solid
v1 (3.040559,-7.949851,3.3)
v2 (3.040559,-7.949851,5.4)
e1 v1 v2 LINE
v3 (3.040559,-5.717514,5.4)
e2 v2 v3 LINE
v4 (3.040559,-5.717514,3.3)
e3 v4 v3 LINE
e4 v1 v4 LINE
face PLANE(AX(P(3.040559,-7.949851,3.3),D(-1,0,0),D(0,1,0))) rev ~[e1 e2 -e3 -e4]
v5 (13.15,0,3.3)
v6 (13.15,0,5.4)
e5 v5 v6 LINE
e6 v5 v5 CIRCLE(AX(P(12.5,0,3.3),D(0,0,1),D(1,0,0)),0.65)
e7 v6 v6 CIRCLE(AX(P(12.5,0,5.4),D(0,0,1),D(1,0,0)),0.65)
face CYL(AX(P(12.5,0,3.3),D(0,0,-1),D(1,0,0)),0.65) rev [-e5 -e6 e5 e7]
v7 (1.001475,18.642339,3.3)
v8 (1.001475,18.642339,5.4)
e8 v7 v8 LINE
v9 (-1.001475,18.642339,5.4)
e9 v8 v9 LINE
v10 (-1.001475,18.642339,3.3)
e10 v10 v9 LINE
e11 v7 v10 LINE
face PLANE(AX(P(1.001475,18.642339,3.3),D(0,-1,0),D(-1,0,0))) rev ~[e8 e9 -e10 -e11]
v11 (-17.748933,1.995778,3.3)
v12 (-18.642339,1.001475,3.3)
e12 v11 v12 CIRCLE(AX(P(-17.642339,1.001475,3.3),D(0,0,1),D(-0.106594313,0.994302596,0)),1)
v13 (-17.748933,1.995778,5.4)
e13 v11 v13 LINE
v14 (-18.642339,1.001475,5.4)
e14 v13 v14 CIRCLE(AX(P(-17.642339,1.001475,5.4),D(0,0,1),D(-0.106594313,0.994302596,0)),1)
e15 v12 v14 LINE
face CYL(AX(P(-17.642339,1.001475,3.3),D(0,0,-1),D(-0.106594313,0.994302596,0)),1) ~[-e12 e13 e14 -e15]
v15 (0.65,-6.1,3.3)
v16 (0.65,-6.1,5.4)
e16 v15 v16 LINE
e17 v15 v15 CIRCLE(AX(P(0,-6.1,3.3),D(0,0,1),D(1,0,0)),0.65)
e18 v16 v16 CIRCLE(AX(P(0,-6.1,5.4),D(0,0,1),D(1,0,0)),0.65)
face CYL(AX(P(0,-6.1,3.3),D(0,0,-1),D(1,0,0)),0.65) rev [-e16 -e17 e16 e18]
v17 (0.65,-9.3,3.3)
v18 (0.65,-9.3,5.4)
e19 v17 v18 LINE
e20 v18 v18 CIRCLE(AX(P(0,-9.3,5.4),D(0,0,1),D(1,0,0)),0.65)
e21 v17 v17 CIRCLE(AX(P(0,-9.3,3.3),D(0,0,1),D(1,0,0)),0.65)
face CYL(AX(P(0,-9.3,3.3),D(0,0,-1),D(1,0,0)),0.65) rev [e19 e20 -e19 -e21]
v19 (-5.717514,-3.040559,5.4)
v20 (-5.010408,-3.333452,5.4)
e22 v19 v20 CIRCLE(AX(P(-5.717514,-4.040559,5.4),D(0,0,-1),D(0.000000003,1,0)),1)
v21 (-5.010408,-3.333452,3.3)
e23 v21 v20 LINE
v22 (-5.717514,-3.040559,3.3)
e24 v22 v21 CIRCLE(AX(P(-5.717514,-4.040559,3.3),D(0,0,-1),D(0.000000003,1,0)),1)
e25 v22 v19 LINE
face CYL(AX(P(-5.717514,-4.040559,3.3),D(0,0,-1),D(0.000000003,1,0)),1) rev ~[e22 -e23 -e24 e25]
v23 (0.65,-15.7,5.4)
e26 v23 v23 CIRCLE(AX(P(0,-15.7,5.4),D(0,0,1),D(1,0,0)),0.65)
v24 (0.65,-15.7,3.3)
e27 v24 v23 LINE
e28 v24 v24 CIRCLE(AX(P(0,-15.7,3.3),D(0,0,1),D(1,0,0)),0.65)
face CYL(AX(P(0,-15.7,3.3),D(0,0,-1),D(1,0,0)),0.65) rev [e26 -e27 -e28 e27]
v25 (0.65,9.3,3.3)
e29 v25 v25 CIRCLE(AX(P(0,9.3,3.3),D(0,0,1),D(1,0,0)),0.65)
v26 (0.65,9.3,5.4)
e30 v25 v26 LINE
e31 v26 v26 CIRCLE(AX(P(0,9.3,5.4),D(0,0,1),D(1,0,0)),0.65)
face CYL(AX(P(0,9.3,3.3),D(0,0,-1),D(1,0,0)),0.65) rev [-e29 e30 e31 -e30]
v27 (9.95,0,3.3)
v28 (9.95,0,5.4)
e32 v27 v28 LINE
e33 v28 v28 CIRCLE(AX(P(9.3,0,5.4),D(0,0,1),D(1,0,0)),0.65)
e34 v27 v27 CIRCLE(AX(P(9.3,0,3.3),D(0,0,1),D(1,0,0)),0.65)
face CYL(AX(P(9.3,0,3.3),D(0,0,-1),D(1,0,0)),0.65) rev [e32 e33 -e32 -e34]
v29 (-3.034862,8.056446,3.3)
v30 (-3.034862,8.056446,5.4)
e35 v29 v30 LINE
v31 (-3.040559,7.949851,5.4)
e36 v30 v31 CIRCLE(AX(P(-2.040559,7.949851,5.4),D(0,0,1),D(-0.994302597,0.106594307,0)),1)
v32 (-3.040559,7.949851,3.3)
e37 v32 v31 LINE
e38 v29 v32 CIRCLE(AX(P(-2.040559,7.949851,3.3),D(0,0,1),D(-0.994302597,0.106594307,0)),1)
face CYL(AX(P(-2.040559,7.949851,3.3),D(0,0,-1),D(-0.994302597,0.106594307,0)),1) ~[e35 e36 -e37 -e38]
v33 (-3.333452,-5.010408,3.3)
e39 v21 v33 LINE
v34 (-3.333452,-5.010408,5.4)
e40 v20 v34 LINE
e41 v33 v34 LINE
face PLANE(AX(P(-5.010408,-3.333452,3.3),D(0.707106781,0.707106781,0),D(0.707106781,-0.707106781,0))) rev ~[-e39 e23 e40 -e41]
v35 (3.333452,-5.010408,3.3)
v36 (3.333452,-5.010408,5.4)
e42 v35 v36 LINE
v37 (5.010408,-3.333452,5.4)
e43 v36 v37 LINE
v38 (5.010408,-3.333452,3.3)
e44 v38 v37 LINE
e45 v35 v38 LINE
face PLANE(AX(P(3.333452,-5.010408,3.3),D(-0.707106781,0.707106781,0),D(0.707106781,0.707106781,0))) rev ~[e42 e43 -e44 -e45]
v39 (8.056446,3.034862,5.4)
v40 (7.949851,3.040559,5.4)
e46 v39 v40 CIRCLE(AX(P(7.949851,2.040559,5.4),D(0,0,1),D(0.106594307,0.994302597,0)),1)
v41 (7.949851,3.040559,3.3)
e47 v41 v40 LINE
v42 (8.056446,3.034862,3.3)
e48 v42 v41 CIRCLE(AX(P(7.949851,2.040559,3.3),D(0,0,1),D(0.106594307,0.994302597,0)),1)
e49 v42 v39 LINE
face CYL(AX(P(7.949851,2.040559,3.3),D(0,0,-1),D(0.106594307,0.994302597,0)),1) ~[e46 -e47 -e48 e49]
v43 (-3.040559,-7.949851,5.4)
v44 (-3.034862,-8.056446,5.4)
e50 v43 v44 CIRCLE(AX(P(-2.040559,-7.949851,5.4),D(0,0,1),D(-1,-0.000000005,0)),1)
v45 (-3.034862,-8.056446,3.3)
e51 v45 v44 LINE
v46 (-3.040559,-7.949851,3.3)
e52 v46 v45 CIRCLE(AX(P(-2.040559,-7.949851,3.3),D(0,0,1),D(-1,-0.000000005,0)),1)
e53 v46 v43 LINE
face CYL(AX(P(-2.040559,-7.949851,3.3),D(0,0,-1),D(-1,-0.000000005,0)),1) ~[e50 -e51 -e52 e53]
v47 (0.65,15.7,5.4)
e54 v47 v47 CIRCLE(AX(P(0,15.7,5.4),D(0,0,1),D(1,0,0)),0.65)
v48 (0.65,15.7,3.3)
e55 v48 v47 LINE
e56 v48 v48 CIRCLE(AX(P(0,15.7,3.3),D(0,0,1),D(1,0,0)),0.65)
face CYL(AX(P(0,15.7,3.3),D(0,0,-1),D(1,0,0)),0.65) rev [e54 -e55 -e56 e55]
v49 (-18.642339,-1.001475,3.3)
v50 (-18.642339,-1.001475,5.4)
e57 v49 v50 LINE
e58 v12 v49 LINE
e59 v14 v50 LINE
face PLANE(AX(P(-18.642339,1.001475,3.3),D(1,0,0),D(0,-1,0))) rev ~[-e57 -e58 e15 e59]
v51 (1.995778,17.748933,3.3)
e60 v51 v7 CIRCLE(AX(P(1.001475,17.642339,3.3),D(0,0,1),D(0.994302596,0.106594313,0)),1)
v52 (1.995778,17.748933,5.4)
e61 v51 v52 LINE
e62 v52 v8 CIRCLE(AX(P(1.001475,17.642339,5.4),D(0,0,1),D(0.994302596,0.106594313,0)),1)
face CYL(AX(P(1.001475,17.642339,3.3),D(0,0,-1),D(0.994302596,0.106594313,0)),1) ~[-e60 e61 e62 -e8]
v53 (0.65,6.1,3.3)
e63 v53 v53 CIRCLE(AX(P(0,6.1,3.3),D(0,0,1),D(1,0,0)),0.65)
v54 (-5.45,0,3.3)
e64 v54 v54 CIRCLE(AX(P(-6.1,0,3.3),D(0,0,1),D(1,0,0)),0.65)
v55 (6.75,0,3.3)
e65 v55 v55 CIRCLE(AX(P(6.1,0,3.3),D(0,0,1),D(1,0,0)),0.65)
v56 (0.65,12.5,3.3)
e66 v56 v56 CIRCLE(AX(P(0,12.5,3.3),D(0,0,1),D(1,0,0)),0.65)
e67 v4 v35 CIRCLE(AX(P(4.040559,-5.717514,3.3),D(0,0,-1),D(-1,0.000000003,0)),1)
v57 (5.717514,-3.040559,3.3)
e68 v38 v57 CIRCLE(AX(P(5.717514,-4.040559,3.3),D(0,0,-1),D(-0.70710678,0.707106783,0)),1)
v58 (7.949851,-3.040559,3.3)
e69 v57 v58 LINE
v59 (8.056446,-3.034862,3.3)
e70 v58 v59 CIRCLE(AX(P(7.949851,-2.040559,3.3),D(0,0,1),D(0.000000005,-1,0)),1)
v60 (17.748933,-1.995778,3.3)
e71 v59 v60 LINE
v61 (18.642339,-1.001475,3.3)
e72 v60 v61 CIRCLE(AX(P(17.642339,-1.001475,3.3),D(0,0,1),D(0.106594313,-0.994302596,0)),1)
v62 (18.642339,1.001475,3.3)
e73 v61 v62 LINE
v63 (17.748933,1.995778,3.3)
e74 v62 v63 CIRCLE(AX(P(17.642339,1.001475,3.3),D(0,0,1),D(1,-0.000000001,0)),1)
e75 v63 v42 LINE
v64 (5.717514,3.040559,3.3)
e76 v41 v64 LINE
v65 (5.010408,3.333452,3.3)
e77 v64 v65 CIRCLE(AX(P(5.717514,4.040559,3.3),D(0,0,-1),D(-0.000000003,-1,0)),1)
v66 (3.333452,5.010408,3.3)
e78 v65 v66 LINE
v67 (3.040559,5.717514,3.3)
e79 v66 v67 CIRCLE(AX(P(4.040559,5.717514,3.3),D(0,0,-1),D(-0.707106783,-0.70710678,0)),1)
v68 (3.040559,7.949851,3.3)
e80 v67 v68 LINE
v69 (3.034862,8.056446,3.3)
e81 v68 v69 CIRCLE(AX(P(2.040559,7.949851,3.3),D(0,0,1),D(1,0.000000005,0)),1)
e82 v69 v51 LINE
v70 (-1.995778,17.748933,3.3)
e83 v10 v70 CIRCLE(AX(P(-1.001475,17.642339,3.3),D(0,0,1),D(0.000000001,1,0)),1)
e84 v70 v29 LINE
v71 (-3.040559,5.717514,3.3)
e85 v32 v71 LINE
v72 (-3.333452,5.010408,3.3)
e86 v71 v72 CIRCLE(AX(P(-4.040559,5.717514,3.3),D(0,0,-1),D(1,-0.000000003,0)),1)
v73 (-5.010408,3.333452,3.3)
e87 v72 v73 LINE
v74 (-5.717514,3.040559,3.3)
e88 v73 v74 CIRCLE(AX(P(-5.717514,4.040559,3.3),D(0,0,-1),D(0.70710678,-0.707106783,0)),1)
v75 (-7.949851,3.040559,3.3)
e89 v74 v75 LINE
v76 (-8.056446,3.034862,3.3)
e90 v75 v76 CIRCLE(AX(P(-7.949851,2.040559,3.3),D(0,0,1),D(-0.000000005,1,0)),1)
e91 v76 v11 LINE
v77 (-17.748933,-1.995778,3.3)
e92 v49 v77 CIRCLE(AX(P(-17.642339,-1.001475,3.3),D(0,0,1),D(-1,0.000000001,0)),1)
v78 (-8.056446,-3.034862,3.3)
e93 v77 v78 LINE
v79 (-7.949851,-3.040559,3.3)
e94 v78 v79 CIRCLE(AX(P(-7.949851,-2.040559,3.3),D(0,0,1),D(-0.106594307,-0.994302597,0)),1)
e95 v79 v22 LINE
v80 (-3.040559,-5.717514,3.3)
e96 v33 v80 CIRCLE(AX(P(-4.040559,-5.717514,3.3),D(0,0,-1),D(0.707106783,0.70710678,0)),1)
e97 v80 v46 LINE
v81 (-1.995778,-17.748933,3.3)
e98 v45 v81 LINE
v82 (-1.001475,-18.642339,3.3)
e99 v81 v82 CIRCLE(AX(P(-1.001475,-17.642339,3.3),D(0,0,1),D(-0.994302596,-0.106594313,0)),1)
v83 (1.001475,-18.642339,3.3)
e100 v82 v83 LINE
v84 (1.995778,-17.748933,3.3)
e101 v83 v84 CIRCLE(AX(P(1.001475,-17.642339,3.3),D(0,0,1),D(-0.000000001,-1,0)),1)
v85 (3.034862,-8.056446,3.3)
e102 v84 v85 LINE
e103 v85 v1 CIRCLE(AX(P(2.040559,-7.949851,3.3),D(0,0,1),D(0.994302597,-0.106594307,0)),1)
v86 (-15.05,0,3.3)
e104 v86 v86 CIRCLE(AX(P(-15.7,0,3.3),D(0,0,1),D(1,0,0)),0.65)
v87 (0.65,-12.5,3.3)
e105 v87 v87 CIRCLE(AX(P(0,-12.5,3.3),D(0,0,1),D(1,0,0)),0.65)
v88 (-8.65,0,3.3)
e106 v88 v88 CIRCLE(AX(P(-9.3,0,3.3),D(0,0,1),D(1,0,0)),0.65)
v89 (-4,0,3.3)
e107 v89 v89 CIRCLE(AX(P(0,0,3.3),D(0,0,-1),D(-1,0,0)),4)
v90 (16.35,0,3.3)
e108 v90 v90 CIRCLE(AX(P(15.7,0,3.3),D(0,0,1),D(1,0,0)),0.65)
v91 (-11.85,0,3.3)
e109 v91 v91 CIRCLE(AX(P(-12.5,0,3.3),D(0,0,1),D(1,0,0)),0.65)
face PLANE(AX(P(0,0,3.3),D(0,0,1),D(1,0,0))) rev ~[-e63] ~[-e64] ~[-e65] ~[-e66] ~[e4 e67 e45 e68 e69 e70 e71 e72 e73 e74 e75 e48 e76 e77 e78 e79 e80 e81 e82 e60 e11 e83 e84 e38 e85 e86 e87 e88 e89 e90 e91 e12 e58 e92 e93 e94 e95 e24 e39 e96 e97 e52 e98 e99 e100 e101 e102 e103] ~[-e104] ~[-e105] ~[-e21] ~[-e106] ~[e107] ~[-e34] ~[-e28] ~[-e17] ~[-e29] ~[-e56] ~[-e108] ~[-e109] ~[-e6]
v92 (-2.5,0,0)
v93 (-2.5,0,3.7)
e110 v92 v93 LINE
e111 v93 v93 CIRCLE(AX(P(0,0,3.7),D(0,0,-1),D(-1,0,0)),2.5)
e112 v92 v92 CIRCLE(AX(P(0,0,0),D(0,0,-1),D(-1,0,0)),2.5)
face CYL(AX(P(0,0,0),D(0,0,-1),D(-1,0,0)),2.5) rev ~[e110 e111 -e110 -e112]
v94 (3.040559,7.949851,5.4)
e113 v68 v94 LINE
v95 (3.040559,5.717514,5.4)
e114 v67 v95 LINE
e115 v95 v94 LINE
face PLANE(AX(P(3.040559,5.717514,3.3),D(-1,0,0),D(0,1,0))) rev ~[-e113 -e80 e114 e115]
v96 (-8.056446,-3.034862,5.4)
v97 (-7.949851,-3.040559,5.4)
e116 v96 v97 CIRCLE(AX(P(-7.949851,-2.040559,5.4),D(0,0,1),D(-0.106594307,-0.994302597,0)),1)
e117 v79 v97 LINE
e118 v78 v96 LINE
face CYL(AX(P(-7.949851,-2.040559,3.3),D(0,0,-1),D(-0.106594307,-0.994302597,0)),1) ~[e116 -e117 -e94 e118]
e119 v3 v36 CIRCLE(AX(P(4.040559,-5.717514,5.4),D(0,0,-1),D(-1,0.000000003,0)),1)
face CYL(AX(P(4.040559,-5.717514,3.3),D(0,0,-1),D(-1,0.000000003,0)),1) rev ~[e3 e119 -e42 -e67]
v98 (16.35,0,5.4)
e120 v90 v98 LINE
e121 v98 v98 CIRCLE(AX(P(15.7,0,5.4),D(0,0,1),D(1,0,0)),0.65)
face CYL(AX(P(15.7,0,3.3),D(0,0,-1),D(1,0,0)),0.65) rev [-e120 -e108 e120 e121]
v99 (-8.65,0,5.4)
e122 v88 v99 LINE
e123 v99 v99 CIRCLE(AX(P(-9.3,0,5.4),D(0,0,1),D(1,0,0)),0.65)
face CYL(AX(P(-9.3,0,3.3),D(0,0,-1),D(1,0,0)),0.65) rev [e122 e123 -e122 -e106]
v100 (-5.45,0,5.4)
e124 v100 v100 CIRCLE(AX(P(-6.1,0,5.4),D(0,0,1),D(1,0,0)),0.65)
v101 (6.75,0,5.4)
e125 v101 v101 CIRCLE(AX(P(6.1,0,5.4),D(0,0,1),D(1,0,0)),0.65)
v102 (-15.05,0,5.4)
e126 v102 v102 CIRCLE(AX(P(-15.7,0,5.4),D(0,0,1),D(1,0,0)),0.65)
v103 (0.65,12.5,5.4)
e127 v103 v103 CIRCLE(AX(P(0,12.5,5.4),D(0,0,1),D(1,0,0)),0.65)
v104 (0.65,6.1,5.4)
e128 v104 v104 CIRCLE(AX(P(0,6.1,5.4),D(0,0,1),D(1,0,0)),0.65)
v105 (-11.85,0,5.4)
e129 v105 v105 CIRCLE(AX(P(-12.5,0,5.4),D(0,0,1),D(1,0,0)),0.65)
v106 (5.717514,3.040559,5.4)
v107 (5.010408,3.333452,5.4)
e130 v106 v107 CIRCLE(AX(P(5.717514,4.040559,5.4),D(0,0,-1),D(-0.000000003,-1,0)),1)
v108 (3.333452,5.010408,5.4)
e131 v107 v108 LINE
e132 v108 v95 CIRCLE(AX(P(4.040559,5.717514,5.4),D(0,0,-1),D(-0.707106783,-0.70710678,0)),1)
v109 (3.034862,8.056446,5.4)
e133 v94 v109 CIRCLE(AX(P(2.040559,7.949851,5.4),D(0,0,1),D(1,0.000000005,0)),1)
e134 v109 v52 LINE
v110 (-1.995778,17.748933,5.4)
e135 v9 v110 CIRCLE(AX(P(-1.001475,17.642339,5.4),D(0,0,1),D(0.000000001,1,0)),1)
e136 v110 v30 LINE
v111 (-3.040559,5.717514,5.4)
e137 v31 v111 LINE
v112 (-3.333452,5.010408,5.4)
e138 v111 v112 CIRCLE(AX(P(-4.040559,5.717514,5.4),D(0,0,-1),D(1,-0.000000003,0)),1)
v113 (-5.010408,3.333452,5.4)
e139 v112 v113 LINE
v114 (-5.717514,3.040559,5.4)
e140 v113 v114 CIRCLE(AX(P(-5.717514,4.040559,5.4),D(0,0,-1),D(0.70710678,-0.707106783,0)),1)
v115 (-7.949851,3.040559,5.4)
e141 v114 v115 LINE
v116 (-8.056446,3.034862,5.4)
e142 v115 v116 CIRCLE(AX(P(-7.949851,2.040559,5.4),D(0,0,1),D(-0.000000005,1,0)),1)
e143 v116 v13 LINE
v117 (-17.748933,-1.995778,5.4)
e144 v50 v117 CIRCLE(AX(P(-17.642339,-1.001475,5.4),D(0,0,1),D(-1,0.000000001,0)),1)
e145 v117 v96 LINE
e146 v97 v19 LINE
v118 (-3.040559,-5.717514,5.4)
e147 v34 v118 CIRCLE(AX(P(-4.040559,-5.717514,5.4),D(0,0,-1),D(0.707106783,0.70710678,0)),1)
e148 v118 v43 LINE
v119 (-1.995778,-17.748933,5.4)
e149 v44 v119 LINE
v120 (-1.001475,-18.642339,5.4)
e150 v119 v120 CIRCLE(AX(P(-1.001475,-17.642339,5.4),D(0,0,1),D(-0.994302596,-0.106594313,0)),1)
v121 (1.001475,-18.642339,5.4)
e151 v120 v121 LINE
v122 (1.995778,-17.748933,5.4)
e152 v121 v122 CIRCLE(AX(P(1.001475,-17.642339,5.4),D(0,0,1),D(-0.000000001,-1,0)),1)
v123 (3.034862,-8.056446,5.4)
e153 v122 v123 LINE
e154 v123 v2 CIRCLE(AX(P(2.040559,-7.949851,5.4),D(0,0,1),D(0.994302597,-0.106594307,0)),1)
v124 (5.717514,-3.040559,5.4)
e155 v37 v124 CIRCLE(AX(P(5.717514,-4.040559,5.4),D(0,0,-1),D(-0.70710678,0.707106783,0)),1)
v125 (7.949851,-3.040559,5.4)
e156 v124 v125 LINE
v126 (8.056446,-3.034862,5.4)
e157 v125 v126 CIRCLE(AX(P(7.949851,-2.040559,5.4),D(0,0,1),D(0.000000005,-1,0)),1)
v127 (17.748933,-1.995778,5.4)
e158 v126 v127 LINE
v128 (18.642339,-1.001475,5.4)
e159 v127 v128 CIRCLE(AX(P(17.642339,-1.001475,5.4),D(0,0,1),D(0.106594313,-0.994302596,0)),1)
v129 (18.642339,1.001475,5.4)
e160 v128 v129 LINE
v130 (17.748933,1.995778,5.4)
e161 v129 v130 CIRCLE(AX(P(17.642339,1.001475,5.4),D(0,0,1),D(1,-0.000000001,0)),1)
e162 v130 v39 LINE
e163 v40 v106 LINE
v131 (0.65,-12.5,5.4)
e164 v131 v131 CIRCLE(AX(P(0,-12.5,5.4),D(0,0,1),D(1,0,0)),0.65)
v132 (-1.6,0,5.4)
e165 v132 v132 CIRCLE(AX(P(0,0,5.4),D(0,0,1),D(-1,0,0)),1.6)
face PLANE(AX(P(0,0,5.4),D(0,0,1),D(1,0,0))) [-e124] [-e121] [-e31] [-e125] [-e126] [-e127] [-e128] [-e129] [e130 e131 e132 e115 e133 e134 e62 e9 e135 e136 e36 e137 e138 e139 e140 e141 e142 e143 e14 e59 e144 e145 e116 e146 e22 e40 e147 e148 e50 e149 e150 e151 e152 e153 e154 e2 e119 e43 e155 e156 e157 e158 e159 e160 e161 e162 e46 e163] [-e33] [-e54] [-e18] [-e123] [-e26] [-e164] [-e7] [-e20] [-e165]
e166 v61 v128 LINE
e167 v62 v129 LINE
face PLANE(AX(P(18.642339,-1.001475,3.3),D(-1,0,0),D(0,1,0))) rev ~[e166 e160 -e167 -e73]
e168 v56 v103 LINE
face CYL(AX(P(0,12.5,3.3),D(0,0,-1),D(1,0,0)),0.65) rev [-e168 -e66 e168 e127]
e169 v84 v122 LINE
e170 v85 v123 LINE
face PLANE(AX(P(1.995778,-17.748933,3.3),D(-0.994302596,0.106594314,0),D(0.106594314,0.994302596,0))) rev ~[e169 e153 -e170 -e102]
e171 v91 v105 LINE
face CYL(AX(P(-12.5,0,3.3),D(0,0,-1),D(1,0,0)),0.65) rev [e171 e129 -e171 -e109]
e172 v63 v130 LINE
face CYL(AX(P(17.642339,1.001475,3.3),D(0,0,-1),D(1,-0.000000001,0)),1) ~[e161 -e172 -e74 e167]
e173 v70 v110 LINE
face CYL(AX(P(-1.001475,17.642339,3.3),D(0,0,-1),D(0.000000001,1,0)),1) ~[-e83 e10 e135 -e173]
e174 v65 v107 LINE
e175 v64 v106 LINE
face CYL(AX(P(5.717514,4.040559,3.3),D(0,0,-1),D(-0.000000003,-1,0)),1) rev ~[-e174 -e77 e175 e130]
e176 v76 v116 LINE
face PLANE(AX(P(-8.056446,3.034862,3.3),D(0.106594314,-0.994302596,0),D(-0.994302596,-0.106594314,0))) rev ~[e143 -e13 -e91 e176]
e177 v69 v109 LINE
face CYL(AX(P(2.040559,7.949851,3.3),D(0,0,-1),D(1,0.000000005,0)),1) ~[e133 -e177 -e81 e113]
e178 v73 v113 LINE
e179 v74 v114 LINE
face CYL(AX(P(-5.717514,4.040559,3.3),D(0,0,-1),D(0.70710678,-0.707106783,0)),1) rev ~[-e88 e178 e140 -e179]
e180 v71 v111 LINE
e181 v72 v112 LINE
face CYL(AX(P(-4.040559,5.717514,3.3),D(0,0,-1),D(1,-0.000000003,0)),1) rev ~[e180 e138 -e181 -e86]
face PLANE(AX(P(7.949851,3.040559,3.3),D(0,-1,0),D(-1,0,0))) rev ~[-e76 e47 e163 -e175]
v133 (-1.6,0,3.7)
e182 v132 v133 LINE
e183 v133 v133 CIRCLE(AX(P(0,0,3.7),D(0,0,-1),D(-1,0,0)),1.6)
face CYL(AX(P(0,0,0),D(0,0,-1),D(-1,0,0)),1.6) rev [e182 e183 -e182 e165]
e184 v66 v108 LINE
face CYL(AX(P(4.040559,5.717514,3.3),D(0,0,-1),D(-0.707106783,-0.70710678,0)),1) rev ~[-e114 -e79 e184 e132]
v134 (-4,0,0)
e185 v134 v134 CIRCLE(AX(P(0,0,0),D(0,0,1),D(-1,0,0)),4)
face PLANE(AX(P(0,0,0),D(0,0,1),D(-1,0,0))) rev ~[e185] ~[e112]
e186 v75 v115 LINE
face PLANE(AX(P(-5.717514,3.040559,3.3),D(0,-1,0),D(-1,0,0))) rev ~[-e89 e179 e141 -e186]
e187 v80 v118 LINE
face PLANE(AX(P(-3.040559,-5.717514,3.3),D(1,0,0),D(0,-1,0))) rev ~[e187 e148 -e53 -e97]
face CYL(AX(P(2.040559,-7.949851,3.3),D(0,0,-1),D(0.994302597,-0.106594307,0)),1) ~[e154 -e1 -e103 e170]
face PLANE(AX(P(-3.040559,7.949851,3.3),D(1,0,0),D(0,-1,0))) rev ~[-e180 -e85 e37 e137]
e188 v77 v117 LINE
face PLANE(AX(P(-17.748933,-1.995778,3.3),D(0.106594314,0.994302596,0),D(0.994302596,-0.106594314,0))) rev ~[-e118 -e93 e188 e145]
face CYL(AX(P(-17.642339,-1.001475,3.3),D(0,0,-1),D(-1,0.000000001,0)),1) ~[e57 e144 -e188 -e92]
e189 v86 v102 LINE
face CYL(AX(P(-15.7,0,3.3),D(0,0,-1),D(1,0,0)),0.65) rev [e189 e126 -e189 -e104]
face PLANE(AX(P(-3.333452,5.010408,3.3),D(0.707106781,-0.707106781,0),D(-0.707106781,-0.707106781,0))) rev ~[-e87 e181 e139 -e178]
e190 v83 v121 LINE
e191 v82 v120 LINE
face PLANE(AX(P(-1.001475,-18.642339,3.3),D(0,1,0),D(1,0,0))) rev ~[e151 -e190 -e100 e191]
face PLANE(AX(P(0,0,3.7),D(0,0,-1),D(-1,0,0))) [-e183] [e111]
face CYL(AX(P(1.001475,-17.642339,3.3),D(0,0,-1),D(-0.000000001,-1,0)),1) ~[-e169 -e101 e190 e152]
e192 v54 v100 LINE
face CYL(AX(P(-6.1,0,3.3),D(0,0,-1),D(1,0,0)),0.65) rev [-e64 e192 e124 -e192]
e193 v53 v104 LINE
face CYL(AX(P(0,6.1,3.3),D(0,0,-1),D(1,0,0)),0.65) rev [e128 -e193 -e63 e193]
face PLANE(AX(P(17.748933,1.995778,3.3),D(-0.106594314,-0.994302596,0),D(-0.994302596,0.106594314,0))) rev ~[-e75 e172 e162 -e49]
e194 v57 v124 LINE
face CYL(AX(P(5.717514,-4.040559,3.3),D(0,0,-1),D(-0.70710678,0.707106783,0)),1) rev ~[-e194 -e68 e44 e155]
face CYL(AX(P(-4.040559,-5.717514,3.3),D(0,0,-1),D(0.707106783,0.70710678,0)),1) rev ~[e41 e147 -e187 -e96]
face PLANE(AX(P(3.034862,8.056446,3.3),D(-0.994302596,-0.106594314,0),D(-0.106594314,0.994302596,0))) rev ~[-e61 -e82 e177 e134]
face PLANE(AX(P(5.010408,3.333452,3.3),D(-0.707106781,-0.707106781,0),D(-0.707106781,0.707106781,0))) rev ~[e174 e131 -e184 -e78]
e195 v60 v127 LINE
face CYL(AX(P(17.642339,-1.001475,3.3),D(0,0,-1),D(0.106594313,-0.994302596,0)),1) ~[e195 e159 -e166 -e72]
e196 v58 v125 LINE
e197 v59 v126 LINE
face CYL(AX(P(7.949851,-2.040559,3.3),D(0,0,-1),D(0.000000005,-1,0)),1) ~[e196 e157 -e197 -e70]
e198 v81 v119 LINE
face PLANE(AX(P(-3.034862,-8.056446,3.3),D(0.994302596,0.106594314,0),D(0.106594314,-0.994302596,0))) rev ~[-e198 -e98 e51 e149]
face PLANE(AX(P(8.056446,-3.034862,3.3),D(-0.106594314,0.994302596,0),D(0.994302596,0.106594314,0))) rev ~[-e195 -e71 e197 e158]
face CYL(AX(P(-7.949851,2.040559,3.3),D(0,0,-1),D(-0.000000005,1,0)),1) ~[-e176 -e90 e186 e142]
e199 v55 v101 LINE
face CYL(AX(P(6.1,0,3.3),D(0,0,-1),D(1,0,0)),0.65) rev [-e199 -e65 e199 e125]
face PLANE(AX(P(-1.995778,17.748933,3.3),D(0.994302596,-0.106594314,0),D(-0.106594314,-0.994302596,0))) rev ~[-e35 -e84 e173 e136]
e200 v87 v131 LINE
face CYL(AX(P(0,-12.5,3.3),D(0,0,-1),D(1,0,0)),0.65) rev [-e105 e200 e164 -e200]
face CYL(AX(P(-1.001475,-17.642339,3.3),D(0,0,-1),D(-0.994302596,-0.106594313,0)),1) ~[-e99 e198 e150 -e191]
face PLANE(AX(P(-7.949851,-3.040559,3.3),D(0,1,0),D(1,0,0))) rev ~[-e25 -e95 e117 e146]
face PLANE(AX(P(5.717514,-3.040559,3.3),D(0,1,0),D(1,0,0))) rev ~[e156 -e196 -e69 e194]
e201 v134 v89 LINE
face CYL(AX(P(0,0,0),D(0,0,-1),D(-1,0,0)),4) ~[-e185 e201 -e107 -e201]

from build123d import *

# Parameters (mm, degrees)
SKETCH1_R           = 4
SKETCH1_R_2         = 1.6
BOSS_EXTRUDE1_DEPTH = 5.4
BOSS_EXTRUDE2_START = -2.1
SKETCH2_R           = 1.6
SKETCH2_R_2         = 0.65
BOSS_EXTRUDE2_DEPTH = 2.1
SKETCH3_R           = 2.5
CUT_EXTRUDE1_DEPTH  = 3.7


with BuildPart() as part:
    # Sketch1 → Boss-Extrude1 (new body)
    with BuildSketch(Plane.XY):
        with Locations(Location((0, 0, 0), (0, 0, 180))):
            Circle(SKETCH1_R)
        with Locations(Location((0, 0, 0), (0, 0, 180))):
            Circle(SKETCH1_R_2, mode=Mode.SUBTRACT)
    extrude(amount=BOSS_EXTRUDE1_DEPTH)

    # Sketch2 → Boss-Extrude2 (add)
    with BuildSketch(Plane.XY.offset(5.4).offset(BOSS_EXTRUDE2_START)):
        with BuildLine():
            Line((4.171930009, 4.171930009), (3.333452378, 5.01040764))
            ThreePointArc((3.333452378, 5.01040764), (3.116679627, 5.334830989), (3.040559159, 5.717514421))
            Line((3.040559159, 5.717514421), (3.040559159, 7.94985144))
            ThreePointArc((3.040559159, 7.94985144), (3.039133792, 8.003224674), (3.034861755, 8.056445754))
            Line((3.034861755, 8.056445754), (1.99577765, 17.748932949))
            ThreePointArc((1.99577765, 17.748932949), (1.669833374, 18.386178105), (1.001475054, 18.642338635))
            Line((1.001475054, 18.642338635), (-1.001475054, 18.642338635))
            ThreePointArc((-1.001475054, 18.642338635), (-1.669833374, 18.386178105), (-1.99577765, 17.748932949))
            Line((-1.99577765, 17.748932949), (-3.034861755, 8.056445754))
            ThreePointArc((-3.034861755, 8.056445754), (-3.039133792, 8.003224674), (-3.040559159, 7.94985144))
            Line((-3.040559159, 7.94985144), (-3.040559159, 5.717514421))
            ThreePointArc((-3.040559159, 5.717514421), (-3.116679627, 5.334830989), (-3.333452378, 5.01040764))
            Line((-3.333452378, 5.01040764), (-4.171930009, 4.171930009))
            Line((-4.171930009, 4.171930009), (-5.01040764, 3.333452378))
            ThreePointArc((-5.01040764, 3.333452378), (-5.334830989, 3.116679627), (-5.717514421, 3.040559159))
            Line((-5.717514421, 3.040559159), (-7.94985144, 3.040559159))
            ThreePointArc((-7.94985144, 3.040559159), (-8.003224674, 3.039133792), (-8.056445754, 3.034861755))
            Line((-8.056445754, 3.034861755), (-17.748932949, 1.99577765))
            ThreePointArc((-17.748932949, 1.99577765), (-18.386178105, 1.669833374), (-18.642338635, 1.001475054))
            Line((-18.642338635, 1.001475054), (-18.642338635, -1.001475054))
            ThreePointArc((-18.642338635, -1.001475054), (-18.386178105, -1.669833374), (-17.748932949, -1.99577765))
            Line((-17.748932949, -1.99577765), (-8.056445754, -3.034861755))
            ThreePointArc((-8.056445754, -3.034861755), (-8.003224674, -3.039133792), (-7.94985144, -3.040559159))
            Line((-7.94985144, -3.040559159), (-5.717514421, -3.040559159))
            ThreePointArc((-5.717514421, -3.040559159), (-5.334830989, -3.116679627), (-5.01040764, -3.333452378))
            Line((-5.01040764, -3.333452378), (-4.171930009, -4.171930009))
            Line((-4.171930009, -4.171930009), (-3.333452378, -5.01040764))
            ThreePointArc((-3.333452378, -5.01040764), (-3.116679627, -5.334830989), (-3.040559159, -5.717514421))
            Line((-3.040559159, -5.717514421), (-3.040559159, -7.94985144))
            ThreePointArc((-3.040559159, -7.94985144), (-3.039133792, -8.003224674), (-3.034861755, -8.056445754))
            Line((-3.034861755, -8.056445754), (-1.99577765, -17.748932949))
            ThreePointArc((-1.99577765, -17.748932949), (-1.669833374, -18.386178105), (-1.001475054, -18.642338635))
            Line((-1.001475054, -18.642338635), (1.001475054, -18.642338635))
            ThreePointArc((1.001475054, -18.642338635), (1.669833374, -18.386178105), (1.99577765, -17.748932949))
            Line((1.99577765, -17.748932949), (3.034861755, -8.056445754))
            ThreePointArc((3.034861755, -8.056445754), (3.039133792, -8.003224674), (3.040559159, -7.94985144))
            Line((3.040559159, -7.94985144), (3.040559159, -5.717514421))
            ThreePointArc((3.040559159, -5.717514421), (3.116679627, -5.334830989), (3.333452378, -5.01040764))
            Line((3.333452378, -5.01040764), (4.171930009, -4.171930009))
            Line((4.171930009, -4.171930009), (5.01040764, -3.333452378))
            ThreePointArc((5.01040764, -3.333452378), (5.334830989, -3.116679627), (5.717514421, -3.040559159))
            Line((5.717514421, -3.040559159), (7.94985144, -3.040559159))
            ThreePointArc((7.94985144, -3.040559159), (8.003224674, -3.039133792), (8.056445754, -3.034861755))
            Line((8.056445754, -3.034861755), (17.748932949, -1.99577765))
            ThreePointArc((17.748932949, -1.99577765), (18.386178105, -1.669833374), (18.642338635, -1.001475054))
            Line((18.642338635, -1.001475054), (18.642338635, 1.001475054))
            ThreePointArc((18.642338635, 1.001475054), (18.386178105, 1.669833374), (17.748932949, 1.99577765))
            Line((17.748932949, 1.99577765), (8.056445754, 3.034861755))
            ThreePointArc((8.056445754, 3.034861755), (8.003224674, 3.039133792), (7.94985144, 3.040559159))
            Line((7.94985144, 3.040559159), (5.717514421, 3.040559159))
            ThreePointArc((5.717514421, 3.040559159), (5.334830989, 3.116679627), (5.01040764, 3.333452378))
            Line((5.01040764, 3.333452378), (4.171930009, 4.171930009))
        make_face()
        with Locations(Location((0, 0, 0), (0, 0, 180))):
            Circle(SKETCH2_R, mode=Mode.SUBTRACT)
        with Locations((0, 6.1)):
            Circle(SKETCH2_R_2, mode=Mode.SUBTRACT)
        with Locations((0, 9.3)):
            Circle(SKETCH2_R_2, mode=Mode.SUBTRACT)
        with Locations((0, 12.5)):
            Circle(SKETCH2_R_2, mode=Mode.SUBTRACT)
        with Locations((0, 15.7)):
            Circle(SKETCH2_R_2, mode=Mode.SUBTRACT)
        with Locations((15.7, 0)):
            Circle(SKETCH2_R_2, mode=Mode.SUBTRACT)
        with Locations((12.5, 0)):
            Circle(SKETCH2_R_2, mode=Mode.SUBTRACT)
        with Locations((9.3, 0)):
            Circle(SKETCH2_R_2, mode=Mode.SUBTRACT)
        with Locations((6.1, 0)):
            Circle(SKETCH2_R_2, mode=Mode.SUBTRACT)
        with Locations((0, -15.7)):
            Circle(SKETCH2_R_2, mode=Mode.SUBTRACT)
        with Locations((0, -12.5)):
            Circle(SKETCH2_R_2, mode=Mode.SUBTRACT)
        with Locations((0, -9.3)):
            Circle(SKETCH2_R_2, mode=Mode.SUBTRACT)
        with Locations((0, -6.1)):
            Circle(SKETCH2_R_2, mode=Mode.SUBTRACT)
        with Locations((-15.7, 0)):
            Circle(SKETCH2_R_2, mode=Mode.SUBTRACT)
        with Locations((-12.5, 0)):
            Circle(SKETCH2_R_2, mode=Mode.SUBTRACT)
        with Locations((-9.3, 0)):
            Circle(SKETCH2_R_2, mode=Mode.SUBTRACT)
        with Locations((-6.1, 0)):
            Circle(SKETCH2_R_2, mode=Mode.SUBTRACT)
    extrude(amount=BOSS_EXTRUDE2_DEPTH)

    # Sketch3 → Cut-Extrude1 (cut)
    with BuildSketch(Plane(origin=(0, 0, 0), x_dir=(-1, 0, 0), z_dir=(0, 0, -1))):
        Circle(SKETCH3_R)
    extrude(amount=-CUT_EXTRUDE1_DEPTH, mode=Mode.SUBTRACT)


solid = part.part
